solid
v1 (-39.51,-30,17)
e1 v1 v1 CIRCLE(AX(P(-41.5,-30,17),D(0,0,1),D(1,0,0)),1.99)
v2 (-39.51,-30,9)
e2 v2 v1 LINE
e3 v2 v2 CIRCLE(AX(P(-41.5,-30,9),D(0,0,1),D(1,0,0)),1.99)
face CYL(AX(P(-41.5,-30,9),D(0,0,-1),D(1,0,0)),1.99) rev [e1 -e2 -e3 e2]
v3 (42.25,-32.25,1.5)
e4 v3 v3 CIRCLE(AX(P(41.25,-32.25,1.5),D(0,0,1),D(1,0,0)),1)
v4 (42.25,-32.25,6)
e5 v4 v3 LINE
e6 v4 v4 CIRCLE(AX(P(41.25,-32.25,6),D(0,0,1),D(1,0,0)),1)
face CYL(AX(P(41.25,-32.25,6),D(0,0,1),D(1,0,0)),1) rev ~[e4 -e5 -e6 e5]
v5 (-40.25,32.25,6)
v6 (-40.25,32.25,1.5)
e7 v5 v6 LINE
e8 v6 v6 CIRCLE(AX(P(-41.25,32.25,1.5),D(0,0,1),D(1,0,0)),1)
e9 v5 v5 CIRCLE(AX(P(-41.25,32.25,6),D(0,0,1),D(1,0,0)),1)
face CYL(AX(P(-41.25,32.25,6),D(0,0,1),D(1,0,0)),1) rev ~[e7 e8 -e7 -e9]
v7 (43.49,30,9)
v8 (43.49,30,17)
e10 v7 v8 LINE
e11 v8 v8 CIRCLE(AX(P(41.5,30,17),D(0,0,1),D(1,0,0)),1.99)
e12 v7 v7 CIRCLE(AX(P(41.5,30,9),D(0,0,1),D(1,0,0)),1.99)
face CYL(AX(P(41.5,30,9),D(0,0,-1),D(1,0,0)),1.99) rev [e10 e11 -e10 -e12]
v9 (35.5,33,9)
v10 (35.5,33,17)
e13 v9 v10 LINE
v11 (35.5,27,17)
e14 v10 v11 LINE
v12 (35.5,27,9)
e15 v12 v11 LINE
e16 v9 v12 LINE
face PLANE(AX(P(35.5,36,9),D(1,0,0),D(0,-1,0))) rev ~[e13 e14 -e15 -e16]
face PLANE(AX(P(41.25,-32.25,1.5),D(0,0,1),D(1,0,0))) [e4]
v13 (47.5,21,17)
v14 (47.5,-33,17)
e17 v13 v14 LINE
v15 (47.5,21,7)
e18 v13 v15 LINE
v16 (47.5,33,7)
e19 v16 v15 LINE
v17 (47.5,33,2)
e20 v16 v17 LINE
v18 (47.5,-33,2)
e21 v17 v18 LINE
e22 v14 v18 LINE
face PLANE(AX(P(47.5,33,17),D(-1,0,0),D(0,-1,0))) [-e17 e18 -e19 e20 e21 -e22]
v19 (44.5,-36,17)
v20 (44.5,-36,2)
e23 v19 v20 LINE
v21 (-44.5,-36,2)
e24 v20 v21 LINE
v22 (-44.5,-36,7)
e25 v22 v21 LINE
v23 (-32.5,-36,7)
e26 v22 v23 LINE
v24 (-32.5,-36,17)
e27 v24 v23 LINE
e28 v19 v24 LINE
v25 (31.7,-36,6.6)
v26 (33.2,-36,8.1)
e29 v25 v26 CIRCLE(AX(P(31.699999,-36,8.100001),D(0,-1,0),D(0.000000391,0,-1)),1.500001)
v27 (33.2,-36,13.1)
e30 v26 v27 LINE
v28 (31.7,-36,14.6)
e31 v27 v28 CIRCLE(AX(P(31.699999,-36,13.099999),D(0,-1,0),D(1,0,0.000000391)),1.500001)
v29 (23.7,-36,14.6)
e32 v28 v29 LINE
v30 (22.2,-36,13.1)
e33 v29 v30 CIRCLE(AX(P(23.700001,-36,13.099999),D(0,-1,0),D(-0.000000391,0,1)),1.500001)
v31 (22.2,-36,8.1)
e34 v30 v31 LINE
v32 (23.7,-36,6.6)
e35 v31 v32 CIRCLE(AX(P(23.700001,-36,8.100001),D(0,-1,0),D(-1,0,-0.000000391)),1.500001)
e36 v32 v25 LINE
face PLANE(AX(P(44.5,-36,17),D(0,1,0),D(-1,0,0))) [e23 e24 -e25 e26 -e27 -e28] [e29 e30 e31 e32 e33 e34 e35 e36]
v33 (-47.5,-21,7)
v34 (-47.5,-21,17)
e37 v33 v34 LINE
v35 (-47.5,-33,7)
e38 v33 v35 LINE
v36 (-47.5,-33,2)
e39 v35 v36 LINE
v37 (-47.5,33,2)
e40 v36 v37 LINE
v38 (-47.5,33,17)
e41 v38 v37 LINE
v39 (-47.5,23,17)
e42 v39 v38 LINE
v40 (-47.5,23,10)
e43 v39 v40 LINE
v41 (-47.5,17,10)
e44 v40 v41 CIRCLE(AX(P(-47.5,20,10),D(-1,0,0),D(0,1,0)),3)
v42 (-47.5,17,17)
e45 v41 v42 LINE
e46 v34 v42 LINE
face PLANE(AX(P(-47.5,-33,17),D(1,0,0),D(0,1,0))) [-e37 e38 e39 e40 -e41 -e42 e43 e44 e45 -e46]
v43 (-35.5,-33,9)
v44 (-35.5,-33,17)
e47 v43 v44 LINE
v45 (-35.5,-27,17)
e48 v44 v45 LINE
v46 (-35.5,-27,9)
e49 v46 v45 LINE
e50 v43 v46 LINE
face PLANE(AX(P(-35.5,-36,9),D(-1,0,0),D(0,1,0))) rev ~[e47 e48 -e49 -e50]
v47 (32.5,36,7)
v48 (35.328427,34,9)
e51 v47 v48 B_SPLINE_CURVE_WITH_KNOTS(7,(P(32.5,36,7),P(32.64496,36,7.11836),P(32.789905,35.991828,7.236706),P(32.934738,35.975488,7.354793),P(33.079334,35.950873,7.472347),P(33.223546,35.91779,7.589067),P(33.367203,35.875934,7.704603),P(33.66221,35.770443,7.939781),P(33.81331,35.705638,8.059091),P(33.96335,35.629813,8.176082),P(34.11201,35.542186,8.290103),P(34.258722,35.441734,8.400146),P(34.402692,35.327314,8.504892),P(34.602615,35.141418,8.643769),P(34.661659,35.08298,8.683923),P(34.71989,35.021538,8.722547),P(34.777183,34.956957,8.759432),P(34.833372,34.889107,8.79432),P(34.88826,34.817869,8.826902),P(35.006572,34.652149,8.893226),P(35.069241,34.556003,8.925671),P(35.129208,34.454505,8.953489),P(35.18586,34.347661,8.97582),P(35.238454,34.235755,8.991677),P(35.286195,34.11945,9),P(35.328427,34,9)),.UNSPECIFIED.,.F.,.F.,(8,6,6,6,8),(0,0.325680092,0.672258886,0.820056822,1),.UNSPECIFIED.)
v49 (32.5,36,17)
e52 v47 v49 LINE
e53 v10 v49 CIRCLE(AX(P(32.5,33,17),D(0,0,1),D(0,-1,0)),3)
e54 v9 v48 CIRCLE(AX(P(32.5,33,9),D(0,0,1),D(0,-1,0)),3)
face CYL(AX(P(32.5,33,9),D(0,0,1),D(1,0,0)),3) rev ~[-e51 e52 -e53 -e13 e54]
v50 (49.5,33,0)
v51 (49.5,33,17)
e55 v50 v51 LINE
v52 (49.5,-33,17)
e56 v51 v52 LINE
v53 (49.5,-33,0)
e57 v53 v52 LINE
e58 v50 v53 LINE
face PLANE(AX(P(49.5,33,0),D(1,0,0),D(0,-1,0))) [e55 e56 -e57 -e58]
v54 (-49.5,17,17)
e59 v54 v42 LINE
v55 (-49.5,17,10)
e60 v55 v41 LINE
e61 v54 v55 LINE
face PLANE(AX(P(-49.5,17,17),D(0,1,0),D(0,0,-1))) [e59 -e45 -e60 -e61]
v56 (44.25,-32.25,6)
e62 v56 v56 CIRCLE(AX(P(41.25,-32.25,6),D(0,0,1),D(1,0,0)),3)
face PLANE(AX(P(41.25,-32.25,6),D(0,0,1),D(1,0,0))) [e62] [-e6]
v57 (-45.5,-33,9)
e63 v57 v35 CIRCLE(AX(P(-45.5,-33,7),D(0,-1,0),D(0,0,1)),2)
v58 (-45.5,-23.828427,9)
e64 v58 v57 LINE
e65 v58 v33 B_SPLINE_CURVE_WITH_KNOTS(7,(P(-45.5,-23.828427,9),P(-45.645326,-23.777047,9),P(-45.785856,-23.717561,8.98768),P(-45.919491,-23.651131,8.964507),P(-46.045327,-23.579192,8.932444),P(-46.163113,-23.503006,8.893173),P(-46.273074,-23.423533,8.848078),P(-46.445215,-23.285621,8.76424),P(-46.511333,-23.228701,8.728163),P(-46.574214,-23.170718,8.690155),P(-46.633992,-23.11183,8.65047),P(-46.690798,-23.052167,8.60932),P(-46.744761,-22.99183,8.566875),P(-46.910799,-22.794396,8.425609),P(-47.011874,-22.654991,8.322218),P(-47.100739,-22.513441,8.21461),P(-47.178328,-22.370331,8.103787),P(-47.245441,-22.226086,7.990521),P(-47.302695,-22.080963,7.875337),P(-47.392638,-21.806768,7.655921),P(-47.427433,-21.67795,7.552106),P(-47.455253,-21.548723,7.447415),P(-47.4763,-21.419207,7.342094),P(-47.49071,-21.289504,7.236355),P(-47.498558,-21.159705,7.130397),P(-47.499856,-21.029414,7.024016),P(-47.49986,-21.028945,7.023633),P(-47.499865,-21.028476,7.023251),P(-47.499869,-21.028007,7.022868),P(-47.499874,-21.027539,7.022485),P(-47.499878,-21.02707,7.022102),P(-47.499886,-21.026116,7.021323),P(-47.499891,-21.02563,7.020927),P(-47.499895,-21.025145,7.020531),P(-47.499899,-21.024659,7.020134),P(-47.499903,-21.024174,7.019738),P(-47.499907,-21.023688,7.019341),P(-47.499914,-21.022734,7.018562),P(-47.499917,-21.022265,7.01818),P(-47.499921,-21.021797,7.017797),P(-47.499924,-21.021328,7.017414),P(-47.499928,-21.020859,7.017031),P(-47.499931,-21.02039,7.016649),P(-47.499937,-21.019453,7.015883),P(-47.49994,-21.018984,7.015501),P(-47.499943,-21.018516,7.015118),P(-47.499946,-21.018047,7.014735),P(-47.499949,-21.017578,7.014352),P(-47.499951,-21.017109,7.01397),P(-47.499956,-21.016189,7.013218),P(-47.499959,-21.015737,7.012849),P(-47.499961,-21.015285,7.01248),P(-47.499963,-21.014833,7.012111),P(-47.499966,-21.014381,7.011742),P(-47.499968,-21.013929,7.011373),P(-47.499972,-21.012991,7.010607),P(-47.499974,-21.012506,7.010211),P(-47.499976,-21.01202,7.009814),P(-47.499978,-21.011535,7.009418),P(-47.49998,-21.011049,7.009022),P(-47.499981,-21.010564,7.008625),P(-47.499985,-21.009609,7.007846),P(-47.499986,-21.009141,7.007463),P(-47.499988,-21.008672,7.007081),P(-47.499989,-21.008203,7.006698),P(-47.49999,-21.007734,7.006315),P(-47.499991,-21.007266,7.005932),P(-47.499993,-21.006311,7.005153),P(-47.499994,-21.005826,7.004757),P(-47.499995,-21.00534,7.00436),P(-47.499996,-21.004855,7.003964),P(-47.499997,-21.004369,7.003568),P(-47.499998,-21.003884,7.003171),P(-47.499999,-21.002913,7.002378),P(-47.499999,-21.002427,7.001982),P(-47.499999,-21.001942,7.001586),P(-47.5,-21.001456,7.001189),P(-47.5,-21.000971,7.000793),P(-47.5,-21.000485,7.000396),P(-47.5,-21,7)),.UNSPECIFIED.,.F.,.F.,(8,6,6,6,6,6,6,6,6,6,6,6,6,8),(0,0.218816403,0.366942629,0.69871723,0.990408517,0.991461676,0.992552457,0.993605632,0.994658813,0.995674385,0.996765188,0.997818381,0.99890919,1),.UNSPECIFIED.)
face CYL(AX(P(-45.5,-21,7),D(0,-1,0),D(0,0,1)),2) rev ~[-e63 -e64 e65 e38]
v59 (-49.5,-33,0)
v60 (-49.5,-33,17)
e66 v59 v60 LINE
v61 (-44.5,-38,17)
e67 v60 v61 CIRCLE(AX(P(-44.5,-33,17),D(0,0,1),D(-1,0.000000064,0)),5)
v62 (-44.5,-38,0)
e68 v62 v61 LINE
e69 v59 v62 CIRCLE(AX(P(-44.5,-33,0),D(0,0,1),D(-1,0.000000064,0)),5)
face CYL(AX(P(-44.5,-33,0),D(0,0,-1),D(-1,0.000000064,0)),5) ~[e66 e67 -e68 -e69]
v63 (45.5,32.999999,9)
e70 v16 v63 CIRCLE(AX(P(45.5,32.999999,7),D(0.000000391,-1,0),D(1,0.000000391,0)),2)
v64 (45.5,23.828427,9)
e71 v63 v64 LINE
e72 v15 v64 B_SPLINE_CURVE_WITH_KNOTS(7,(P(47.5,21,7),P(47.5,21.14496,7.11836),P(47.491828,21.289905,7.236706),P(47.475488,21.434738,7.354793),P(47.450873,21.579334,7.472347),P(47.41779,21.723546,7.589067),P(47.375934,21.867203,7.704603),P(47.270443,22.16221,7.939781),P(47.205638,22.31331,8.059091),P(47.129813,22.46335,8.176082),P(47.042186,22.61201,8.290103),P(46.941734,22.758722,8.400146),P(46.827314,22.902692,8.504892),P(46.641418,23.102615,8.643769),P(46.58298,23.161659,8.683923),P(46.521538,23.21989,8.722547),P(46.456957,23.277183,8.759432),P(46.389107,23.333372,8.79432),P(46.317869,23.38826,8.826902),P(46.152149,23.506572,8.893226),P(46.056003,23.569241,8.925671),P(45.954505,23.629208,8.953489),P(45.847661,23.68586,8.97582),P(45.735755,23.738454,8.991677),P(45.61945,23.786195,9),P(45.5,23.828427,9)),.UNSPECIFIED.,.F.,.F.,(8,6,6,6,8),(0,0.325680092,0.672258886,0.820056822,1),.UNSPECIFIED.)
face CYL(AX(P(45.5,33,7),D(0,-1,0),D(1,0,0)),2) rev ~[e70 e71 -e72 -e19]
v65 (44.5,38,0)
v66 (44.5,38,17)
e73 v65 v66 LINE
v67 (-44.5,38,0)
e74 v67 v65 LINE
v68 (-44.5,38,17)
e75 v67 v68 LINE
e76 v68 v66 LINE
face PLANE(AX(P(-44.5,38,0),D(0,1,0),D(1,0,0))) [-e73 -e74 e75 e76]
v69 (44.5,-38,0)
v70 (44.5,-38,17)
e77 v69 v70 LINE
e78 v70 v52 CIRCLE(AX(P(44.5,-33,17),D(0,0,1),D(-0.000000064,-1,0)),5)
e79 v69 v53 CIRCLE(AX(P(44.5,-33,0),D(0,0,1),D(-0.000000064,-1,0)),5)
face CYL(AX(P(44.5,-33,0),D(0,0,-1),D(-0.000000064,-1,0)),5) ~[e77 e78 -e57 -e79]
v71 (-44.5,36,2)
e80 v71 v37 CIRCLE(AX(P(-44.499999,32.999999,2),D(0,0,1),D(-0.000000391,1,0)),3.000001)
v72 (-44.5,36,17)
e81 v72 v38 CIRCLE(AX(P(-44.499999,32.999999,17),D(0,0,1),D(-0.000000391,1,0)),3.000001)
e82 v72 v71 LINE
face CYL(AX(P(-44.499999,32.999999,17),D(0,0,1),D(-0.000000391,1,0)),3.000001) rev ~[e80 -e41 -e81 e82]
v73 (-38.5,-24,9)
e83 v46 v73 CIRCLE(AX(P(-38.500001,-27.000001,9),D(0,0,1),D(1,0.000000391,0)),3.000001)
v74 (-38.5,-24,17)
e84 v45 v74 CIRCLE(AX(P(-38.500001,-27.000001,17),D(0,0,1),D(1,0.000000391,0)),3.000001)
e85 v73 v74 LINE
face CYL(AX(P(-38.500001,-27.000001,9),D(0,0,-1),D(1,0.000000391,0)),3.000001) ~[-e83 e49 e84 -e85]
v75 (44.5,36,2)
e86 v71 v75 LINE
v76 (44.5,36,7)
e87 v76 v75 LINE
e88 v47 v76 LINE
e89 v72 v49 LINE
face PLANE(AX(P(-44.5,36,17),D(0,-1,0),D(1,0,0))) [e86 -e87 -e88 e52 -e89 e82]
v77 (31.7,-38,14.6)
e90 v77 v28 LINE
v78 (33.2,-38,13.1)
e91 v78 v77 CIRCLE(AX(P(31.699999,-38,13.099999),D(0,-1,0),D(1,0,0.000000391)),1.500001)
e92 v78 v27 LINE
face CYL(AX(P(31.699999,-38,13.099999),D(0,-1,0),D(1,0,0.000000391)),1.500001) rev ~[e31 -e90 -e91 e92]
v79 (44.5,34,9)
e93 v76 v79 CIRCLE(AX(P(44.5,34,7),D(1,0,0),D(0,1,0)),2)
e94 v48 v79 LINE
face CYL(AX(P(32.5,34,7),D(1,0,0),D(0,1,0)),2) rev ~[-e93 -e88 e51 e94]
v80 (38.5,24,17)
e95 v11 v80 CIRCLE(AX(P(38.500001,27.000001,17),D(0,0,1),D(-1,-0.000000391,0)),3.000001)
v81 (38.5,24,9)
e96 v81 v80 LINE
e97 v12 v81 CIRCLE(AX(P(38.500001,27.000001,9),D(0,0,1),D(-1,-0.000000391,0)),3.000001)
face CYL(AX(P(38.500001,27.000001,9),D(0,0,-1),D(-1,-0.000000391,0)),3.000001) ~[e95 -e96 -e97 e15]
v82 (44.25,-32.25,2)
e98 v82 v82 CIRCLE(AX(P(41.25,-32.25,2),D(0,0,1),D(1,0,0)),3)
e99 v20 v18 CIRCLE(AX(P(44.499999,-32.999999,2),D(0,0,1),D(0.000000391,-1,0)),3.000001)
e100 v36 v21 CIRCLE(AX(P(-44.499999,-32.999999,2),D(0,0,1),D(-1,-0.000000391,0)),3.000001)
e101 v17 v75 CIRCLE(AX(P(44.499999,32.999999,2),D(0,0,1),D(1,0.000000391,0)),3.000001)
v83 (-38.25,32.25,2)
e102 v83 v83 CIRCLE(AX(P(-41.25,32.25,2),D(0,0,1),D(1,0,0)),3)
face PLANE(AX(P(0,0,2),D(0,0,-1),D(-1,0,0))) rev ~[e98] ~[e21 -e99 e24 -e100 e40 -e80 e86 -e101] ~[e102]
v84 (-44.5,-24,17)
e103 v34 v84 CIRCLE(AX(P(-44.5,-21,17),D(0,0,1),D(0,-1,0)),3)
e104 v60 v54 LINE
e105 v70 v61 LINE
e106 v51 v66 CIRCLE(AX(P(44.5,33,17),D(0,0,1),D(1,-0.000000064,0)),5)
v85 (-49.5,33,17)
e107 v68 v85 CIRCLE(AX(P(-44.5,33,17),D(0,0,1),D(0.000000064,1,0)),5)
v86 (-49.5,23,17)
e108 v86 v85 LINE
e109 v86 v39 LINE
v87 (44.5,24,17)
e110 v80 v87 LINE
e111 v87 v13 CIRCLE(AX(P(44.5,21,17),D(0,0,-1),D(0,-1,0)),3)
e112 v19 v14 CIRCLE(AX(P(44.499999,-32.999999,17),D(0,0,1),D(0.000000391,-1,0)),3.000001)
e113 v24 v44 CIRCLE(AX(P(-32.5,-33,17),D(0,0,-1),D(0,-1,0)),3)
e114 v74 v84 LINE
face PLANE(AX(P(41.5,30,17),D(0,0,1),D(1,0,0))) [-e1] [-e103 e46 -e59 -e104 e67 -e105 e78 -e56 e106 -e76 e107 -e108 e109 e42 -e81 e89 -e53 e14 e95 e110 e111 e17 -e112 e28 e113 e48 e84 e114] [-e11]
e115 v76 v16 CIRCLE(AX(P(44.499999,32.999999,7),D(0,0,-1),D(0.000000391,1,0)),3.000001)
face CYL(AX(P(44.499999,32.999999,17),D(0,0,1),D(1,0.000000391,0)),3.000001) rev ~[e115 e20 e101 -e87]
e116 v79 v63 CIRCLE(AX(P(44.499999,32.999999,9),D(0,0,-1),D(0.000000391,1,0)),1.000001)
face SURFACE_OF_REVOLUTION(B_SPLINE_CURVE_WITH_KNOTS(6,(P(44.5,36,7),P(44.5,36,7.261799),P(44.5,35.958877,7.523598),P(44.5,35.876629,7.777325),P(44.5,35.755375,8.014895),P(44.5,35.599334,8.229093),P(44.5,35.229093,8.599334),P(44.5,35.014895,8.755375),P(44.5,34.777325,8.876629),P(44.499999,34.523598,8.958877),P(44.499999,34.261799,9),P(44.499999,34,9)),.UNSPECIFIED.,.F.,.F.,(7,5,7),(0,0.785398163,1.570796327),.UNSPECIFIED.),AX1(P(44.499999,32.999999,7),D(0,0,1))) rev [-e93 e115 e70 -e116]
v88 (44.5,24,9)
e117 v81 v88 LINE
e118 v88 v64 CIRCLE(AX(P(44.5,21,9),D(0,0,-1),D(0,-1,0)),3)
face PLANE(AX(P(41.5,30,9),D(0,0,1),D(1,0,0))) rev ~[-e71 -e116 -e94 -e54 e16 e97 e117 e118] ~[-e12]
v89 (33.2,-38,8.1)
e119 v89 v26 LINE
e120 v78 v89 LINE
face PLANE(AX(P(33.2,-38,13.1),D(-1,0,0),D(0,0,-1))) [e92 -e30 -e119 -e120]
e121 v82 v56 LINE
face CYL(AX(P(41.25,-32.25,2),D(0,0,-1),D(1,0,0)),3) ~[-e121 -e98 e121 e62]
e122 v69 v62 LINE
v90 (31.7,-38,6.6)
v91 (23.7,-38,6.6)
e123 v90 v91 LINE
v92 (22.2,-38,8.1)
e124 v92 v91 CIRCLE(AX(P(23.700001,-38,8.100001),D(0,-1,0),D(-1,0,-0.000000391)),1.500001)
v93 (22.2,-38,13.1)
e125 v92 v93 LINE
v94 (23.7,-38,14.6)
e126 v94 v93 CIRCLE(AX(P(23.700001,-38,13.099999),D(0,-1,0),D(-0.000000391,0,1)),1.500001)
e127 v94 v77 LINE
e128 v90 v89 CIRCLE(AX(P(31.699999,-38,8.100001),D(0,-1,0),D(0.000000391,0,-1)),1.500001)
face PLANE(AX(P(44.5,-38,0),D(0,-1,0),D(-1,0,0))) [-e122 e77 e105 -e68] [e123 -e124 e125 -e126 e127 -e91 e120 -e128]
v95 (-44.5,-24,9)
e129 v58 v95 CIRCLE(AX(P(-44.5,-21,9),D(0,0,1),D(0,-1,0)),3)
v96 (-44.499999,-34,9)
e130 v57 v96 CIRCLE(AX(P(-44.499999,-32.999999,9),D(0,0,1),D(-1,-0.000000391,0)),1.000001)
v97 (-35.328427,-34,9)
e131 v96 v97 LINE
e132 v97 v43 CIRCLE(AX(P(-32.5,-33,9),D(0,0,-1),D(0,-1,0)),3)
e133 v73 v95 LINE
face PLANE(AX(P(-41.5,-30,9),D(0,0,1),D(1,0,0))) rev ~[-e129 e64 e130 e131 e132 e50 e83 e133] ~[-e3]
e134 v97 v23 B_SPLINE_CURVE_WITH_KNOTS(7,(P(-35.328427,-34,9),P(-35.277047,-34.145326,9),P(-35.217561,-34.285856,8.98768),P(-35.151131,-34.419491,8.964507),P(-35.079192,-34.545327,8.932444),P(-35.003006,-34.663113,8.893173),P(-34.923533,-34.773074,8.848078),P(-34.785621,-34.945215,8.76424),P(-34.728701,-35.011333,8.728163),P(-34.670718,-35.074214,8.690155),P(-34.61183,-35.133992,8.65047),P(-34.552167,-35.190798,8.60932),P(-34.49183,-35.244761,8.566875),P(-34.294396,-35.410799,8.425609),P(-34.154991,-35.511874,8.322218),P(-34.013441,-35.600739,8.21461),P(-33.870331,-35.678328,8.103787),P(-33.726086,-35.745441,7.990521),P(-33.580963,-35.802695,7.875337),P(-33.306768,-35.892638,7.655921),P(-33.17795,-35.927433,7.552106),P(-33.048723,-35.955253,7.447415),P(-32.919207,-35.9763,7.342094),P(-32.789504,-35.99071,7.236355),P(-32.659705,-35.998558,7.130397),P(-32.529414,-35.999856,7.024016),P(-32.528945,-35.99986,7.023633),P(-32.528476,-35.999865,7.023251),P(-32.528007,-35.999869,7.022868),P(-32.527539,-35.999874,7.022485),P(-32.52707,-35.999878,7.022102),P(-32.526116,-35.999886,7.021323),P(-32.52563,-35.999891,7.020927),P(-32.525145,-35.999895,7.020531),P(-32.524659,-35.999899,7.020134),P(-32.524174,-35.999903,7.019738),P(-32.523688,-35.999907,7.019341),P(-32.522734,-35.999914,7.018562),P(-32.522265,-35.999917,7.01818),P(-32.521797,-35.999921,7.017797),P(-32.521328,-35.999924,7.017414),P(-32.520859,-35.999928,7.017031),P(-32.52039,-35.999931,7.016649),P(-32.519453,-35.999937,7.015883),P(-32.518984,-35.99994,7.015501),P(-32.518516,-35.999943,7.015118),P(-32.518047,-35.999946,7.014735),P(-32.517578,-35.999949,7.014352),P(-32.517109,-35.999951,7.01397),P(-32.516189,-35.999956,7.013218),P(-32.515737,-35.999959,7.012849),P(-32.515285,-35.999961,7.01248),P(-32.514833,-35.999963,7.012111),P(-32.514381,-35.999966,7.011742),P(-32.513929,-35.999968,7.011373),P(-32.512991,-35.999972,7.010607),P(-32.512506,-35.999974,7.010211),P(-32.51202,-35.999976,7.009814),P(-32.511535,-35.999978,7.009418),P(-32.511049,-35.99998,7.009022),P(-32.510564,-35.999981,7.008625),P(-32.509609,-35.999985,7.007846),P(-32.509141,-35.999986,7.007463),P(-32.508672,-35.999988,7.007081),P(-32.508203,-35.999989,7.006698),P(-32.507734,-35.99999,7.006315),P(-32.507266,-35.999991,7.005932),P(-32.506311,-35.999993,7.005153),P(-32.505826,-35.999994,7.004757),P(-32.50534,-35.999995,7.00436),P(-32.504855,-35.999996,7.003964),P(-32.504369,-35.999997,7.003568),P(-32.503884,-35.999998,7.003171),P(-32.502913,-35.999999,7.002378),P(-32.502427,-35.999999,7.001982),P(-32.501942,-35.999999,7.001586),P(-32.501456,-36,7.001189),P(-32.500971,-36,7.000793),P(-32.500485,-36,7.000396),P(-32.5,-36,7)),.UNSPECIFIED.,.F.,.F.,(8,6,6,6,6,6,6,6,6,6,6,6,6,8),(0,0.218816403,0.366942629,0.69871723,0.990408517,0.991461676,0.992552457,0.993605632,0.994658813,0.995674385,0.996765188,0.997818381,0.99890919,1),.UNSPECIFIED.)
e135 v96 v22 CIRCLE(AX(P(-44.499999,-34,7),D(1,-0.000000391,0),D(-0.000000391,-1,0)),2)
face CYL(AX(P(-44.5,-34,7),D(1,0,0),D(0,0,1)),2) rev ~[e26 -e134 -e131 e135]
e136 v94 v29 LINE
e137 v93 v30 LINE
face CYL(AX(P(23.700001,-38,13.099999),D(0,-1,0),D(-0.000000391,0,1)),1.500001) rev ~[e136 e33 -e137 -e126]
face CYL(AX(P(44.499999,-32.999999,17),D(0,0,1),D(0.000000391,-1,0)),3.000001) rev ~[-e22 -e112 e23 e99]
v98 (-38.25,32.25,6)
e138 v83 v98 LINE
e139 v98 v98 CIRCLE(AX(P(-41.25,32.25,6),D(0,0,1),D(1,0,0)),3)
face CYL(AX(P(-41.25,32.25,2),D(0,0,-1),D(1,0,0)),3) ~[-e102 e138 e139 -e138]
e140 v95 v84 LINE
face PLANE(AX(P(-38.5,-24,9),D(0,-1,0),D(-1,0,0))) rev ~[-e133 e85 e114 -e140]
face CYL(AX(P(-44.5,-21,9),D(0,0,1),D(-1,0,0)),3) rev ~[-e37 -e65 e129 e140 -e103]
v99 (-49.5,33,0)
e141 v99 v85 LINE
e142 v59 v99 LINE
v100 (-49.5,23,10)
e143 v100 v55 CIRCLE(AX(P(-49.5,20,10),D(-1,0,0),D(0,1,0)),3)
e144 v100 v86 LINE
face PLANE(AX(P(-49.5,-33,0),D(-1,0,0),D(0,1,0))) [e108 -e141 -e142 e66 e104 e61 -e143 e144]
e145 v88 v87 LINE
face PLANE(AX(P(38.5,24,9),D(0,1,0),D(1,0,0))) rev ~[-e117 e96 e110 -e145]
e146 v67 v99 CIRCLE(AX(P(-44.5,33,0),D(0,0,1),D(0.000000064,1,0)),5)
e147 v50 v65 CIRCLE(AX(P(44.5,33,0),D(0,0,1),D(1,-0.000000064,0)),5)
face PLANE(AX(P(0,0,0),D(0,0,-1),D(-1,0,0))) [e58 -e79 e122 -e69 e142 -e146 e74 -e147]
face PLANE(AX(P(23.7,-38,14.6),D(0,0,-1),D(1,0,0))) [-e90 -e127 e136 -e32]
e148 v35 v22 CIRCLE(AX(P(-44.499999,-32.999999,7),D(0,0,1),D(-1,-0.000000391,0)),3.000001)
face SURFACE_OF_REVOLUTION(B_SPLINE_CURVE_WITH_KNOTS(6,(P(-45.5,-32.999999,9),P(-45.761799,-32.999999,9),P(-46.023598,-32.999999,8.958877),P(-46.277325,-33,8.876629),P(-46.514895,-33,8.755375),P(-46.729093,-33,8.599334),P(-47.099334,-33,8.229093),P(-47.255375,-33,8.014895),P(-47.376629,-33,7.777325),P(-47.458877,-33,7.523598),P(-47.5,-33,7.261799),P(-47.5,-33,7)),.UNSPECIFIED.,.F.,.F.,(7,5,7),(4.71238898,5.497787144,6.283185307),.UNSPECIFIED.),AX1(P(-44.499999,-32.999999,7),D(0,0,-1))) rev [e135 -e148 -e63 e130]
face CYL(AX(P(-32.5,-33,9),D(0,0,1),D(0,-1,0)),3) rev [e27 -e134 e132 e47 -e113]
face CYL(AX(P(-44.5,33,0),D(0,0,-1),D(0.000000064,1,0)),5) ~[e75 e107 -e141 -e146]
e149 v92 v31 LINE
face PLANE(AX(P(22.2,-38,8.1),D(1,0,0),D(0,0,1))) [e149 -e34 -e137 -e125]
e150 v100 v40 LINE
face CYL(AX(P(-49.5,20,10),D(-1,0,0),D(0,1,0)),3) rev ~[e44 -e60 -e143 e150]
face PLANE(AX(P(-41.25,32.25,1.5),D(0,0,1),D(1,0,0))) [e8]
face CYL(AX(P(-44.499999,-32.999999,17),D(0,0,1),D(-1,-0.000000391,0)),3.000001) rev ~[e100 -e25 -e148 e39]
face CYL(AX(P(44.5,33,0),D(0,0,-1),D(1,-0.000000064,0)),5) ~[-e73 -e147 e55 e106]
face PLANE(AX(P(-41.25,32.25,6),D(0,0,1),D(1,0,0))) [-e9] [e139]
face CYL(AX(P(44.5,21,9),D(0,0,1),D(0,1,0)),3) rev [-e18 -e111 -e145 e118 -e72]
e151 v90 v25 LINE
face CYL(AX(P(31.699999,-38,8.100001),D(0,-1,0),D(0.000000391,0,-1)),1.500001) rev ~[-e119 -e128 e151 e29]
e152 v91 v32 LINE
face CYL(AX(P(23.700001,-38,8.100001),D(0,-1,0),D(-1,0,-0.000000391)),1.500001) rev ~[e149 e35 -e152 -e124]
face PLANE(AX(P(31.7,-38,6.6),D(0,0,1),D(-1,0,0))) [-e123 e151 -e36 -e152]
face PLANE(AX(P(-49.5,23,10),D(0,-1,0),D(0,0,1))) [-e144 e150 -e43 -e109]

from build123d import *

# Parameters (mm, degrees)
PAD_DEPTH       = 17
POCKET_DEPTH    = 15
SKETCH002_R     = 3
PAD001_DEPTH    = 4
POCKET002_DEPTH = 5
POCKET003_DEPTH = 5
SKETCH006_R     = 1.99
PAD002_DEPTH    = 8
FILLET_R        = 3
FILLET001_R     = 2
FILLET002_R     = 2
SKETCH007_R     = 1
POCKET004_DEPTH = 4.5


with BuildPart() as part:
    # Sketch → Pad (new body)
    with BuildSketch(Plane.XY):
        with BuildLine():
            Line((-44.5, 38), (44.5, 38))
            ThreePointArc((49.5, 33), (48.035534, 36.535534), (44.5, 38))
            Line((49.5, 33), (49.5, -33))
            ThreePointArc((44.5, -38), (48.035534, -36.535534), (49.5, -33))
            Line((44.5, -38), (-44.5, -38))
            ThreePointArc((-49.5, -33), (-48.035534, -36.535534), (-44.5, -38))
            Line((-49.5, -33), (-49.5, 33))
            ThreePointArc((-44.5, 38), (-48.035534, 36.535534), (-49.5, 33))
        make_face()
    extrude(amount=PAD_DEPTH)

    # Sketch001 (on Face10 of Pad) → Pocket (cut)
    with BuildSketch(Plane.XY.offset(17)):
        with BuildLine():
            Line((-44.5, 36), (44.5, 36))
            ThreePointArc((47.5, 33), (46.62132, 35.12132), (44.5, 36))
            Line((47.5, 33), (47.5, -33))
            ThreePointArc((44.5, -36), (46.62132, -35.12132), (47.5, -33))
            Line((44.5, -36), (-44.5, -36))
            ThreePointArc((-47.5, -33), (-46.62132, -35.12132), (-44.5, -36))
            Line((-47.5, -33), (-47.5, 33))
            ThreePointArc((-44.5, 36), (-46.62132, 35.12132), (-47.5, 33))
        make_face()
    extrude(amount=-POCKET_DEPTH, mode=Mode.SUBTRACT)

    # Sketch002 (on Face19 of Pocket) → Pad001 (join)
    with BuildSketch(Plane.XY.offset(2)):
        with Locations((-41.25, 32.25)):
            Circle(SKETCH002_R)
        with Locations((41.25, -32.25)):
            Circle(SKETCH002_R)
    extrude(amount=PAD001_DEPTH)

    # Sketch004 → Pocket002 (cut)
    with BuildSketch(Plane.XZ.offset(38)):
        with BuildLine():
            Line((23.7, 14.6), (31.7, 14.6))
            ThreePointArc((33.2, 13.1), (32.76066, 14.16066), (31.7, 14.6))
            Line((33.2, 13.1), (33.2, 8.1))
            ThreePointArc((31.7, 6.6), (32.76066, 7.03934), (33.2, 8.1))
            Line((31.7, 6.6), (23.7, 6.6))
            ThreePointArc((22.2, 8.1), (22.63934, 7.03934), (23.7, 6.6))
            Line((22.2, 8.1), (22.2, 13.1))
            ThreePointArc((23.7, 14.6), (22.63934, 14.16066), (22.2, 13.1))
        make_face()
    extrude(amount=-POCKET002_DEPTH, mode=Mode.SUBTRACT)

    # Sketch005 (on Face1 of Pocket002) → Pocket003 (cut)
    with BuildSketch(Plane(origin=(-49.5, 0, 0), x_dir=(0, -1, 0), z_dir=(-1, 0, 0))):
        with BuildLine():
            Line((-23, 17), (-17, 17))
            Line((-17, 17), (-17, 10))
            ThreePointArc((-23, 10), (-20, 7), (-17, 10))
            Line((-23, 10), (-23, 17))
        make_face()
    extrude(amount=-POCKET003_DEPTH, mode=Mode.SUBTRACT)

    # Sketch006 (on Face30 of Pocket003) → Pad002 (join)
    with BuildSketch(Plane.XY.offset(9)):
        with BuildLine():
            Line((44.5, 36), (35.5, 36))
            Line((35.5, 36), (35.5, 27))
            ThreePointArc((35.5, 27), (36.37868, 24.87868), (38.5, 24))
            Line((38.5, 24), (47.5, 24))
            Line((47.5, 24), (47.5, 33))
            ThreePointArc((47.5, 33), (46.62132, 35.12132), (44.5, 36))
        make_face()
        with Locations((41.5, 30)):
            Circle(SKETCH006_R, mode=Mode.SUBTRACT)
        with BuildLine():
            Line((-38.5, -24), (-47.5, -24))
            Line((-47.5, -24), (-47.5, -33))
            ThreePointArc((-47.5, -33), (-46.62132, -35.12132), (-44.5, -36))
            Line((-44.5, -36), (-35.5, -36))
            Line((-35.5, -36), (-35.5, -27))
            ThreePointArc((-35.5, -27), (-36.37868, -24.87868), (-38.5, -24))
        make_face()
        with Locations((-41.5, -30)):
            Circle(SKETCH006_R, mode=Mode.SUBTRACT)
    extrude(amount=PAD002_DEPTH)

    # Fillet
    fillet_edges = [part.edges().sort_by_distance(p)[0] for p in [
        (47.5, 24, 13),
        (35.5, 36, 13),
        (-35.5, -36, 13),
        (-47.5, -24, 13),
    ]]
    fillet(fillet_edges, radius=FILLET_R)

    # Fillet001
    fillet001_edges = [part.edges().sort_by_distance(p)[0] for p in [
        (40, 36, 9),
        (47.5, 28.5, 9),
        (47.5, 22.5, 9),
        (34, 36, 9),
    ]]
    fillet(fillet001_edges, radius=FILLET001_R)

    # Fillet002
    fillet002_edges = [part.edges().sort_by_distance(p)[0] for p in [
        (-46.62132, -35.12132, 9),
        (-47.5, -28.5, 9),
        (-47.5, -22.5, 9),
        (-40, -36, 9),
        (-34, -36, 9),
    ]]
    fillet(fillet002_edges, radius=FILLET002_R)

    # Sketch007 (on Face54 of Fillet002) → Pocket004 (cut)
    with BuildSketch(Plane.XY.offset(6)):
        with Locations((41.25, -32.25)):
            Circle(SKETCH007_R)
        with Locations((-41.25, 32.25)):
            Circle(SKETCH007_R)
    extrude(amount=-POCKET004_DEPTH, mode=Mode.SUBTRACT)


solid = part.part
